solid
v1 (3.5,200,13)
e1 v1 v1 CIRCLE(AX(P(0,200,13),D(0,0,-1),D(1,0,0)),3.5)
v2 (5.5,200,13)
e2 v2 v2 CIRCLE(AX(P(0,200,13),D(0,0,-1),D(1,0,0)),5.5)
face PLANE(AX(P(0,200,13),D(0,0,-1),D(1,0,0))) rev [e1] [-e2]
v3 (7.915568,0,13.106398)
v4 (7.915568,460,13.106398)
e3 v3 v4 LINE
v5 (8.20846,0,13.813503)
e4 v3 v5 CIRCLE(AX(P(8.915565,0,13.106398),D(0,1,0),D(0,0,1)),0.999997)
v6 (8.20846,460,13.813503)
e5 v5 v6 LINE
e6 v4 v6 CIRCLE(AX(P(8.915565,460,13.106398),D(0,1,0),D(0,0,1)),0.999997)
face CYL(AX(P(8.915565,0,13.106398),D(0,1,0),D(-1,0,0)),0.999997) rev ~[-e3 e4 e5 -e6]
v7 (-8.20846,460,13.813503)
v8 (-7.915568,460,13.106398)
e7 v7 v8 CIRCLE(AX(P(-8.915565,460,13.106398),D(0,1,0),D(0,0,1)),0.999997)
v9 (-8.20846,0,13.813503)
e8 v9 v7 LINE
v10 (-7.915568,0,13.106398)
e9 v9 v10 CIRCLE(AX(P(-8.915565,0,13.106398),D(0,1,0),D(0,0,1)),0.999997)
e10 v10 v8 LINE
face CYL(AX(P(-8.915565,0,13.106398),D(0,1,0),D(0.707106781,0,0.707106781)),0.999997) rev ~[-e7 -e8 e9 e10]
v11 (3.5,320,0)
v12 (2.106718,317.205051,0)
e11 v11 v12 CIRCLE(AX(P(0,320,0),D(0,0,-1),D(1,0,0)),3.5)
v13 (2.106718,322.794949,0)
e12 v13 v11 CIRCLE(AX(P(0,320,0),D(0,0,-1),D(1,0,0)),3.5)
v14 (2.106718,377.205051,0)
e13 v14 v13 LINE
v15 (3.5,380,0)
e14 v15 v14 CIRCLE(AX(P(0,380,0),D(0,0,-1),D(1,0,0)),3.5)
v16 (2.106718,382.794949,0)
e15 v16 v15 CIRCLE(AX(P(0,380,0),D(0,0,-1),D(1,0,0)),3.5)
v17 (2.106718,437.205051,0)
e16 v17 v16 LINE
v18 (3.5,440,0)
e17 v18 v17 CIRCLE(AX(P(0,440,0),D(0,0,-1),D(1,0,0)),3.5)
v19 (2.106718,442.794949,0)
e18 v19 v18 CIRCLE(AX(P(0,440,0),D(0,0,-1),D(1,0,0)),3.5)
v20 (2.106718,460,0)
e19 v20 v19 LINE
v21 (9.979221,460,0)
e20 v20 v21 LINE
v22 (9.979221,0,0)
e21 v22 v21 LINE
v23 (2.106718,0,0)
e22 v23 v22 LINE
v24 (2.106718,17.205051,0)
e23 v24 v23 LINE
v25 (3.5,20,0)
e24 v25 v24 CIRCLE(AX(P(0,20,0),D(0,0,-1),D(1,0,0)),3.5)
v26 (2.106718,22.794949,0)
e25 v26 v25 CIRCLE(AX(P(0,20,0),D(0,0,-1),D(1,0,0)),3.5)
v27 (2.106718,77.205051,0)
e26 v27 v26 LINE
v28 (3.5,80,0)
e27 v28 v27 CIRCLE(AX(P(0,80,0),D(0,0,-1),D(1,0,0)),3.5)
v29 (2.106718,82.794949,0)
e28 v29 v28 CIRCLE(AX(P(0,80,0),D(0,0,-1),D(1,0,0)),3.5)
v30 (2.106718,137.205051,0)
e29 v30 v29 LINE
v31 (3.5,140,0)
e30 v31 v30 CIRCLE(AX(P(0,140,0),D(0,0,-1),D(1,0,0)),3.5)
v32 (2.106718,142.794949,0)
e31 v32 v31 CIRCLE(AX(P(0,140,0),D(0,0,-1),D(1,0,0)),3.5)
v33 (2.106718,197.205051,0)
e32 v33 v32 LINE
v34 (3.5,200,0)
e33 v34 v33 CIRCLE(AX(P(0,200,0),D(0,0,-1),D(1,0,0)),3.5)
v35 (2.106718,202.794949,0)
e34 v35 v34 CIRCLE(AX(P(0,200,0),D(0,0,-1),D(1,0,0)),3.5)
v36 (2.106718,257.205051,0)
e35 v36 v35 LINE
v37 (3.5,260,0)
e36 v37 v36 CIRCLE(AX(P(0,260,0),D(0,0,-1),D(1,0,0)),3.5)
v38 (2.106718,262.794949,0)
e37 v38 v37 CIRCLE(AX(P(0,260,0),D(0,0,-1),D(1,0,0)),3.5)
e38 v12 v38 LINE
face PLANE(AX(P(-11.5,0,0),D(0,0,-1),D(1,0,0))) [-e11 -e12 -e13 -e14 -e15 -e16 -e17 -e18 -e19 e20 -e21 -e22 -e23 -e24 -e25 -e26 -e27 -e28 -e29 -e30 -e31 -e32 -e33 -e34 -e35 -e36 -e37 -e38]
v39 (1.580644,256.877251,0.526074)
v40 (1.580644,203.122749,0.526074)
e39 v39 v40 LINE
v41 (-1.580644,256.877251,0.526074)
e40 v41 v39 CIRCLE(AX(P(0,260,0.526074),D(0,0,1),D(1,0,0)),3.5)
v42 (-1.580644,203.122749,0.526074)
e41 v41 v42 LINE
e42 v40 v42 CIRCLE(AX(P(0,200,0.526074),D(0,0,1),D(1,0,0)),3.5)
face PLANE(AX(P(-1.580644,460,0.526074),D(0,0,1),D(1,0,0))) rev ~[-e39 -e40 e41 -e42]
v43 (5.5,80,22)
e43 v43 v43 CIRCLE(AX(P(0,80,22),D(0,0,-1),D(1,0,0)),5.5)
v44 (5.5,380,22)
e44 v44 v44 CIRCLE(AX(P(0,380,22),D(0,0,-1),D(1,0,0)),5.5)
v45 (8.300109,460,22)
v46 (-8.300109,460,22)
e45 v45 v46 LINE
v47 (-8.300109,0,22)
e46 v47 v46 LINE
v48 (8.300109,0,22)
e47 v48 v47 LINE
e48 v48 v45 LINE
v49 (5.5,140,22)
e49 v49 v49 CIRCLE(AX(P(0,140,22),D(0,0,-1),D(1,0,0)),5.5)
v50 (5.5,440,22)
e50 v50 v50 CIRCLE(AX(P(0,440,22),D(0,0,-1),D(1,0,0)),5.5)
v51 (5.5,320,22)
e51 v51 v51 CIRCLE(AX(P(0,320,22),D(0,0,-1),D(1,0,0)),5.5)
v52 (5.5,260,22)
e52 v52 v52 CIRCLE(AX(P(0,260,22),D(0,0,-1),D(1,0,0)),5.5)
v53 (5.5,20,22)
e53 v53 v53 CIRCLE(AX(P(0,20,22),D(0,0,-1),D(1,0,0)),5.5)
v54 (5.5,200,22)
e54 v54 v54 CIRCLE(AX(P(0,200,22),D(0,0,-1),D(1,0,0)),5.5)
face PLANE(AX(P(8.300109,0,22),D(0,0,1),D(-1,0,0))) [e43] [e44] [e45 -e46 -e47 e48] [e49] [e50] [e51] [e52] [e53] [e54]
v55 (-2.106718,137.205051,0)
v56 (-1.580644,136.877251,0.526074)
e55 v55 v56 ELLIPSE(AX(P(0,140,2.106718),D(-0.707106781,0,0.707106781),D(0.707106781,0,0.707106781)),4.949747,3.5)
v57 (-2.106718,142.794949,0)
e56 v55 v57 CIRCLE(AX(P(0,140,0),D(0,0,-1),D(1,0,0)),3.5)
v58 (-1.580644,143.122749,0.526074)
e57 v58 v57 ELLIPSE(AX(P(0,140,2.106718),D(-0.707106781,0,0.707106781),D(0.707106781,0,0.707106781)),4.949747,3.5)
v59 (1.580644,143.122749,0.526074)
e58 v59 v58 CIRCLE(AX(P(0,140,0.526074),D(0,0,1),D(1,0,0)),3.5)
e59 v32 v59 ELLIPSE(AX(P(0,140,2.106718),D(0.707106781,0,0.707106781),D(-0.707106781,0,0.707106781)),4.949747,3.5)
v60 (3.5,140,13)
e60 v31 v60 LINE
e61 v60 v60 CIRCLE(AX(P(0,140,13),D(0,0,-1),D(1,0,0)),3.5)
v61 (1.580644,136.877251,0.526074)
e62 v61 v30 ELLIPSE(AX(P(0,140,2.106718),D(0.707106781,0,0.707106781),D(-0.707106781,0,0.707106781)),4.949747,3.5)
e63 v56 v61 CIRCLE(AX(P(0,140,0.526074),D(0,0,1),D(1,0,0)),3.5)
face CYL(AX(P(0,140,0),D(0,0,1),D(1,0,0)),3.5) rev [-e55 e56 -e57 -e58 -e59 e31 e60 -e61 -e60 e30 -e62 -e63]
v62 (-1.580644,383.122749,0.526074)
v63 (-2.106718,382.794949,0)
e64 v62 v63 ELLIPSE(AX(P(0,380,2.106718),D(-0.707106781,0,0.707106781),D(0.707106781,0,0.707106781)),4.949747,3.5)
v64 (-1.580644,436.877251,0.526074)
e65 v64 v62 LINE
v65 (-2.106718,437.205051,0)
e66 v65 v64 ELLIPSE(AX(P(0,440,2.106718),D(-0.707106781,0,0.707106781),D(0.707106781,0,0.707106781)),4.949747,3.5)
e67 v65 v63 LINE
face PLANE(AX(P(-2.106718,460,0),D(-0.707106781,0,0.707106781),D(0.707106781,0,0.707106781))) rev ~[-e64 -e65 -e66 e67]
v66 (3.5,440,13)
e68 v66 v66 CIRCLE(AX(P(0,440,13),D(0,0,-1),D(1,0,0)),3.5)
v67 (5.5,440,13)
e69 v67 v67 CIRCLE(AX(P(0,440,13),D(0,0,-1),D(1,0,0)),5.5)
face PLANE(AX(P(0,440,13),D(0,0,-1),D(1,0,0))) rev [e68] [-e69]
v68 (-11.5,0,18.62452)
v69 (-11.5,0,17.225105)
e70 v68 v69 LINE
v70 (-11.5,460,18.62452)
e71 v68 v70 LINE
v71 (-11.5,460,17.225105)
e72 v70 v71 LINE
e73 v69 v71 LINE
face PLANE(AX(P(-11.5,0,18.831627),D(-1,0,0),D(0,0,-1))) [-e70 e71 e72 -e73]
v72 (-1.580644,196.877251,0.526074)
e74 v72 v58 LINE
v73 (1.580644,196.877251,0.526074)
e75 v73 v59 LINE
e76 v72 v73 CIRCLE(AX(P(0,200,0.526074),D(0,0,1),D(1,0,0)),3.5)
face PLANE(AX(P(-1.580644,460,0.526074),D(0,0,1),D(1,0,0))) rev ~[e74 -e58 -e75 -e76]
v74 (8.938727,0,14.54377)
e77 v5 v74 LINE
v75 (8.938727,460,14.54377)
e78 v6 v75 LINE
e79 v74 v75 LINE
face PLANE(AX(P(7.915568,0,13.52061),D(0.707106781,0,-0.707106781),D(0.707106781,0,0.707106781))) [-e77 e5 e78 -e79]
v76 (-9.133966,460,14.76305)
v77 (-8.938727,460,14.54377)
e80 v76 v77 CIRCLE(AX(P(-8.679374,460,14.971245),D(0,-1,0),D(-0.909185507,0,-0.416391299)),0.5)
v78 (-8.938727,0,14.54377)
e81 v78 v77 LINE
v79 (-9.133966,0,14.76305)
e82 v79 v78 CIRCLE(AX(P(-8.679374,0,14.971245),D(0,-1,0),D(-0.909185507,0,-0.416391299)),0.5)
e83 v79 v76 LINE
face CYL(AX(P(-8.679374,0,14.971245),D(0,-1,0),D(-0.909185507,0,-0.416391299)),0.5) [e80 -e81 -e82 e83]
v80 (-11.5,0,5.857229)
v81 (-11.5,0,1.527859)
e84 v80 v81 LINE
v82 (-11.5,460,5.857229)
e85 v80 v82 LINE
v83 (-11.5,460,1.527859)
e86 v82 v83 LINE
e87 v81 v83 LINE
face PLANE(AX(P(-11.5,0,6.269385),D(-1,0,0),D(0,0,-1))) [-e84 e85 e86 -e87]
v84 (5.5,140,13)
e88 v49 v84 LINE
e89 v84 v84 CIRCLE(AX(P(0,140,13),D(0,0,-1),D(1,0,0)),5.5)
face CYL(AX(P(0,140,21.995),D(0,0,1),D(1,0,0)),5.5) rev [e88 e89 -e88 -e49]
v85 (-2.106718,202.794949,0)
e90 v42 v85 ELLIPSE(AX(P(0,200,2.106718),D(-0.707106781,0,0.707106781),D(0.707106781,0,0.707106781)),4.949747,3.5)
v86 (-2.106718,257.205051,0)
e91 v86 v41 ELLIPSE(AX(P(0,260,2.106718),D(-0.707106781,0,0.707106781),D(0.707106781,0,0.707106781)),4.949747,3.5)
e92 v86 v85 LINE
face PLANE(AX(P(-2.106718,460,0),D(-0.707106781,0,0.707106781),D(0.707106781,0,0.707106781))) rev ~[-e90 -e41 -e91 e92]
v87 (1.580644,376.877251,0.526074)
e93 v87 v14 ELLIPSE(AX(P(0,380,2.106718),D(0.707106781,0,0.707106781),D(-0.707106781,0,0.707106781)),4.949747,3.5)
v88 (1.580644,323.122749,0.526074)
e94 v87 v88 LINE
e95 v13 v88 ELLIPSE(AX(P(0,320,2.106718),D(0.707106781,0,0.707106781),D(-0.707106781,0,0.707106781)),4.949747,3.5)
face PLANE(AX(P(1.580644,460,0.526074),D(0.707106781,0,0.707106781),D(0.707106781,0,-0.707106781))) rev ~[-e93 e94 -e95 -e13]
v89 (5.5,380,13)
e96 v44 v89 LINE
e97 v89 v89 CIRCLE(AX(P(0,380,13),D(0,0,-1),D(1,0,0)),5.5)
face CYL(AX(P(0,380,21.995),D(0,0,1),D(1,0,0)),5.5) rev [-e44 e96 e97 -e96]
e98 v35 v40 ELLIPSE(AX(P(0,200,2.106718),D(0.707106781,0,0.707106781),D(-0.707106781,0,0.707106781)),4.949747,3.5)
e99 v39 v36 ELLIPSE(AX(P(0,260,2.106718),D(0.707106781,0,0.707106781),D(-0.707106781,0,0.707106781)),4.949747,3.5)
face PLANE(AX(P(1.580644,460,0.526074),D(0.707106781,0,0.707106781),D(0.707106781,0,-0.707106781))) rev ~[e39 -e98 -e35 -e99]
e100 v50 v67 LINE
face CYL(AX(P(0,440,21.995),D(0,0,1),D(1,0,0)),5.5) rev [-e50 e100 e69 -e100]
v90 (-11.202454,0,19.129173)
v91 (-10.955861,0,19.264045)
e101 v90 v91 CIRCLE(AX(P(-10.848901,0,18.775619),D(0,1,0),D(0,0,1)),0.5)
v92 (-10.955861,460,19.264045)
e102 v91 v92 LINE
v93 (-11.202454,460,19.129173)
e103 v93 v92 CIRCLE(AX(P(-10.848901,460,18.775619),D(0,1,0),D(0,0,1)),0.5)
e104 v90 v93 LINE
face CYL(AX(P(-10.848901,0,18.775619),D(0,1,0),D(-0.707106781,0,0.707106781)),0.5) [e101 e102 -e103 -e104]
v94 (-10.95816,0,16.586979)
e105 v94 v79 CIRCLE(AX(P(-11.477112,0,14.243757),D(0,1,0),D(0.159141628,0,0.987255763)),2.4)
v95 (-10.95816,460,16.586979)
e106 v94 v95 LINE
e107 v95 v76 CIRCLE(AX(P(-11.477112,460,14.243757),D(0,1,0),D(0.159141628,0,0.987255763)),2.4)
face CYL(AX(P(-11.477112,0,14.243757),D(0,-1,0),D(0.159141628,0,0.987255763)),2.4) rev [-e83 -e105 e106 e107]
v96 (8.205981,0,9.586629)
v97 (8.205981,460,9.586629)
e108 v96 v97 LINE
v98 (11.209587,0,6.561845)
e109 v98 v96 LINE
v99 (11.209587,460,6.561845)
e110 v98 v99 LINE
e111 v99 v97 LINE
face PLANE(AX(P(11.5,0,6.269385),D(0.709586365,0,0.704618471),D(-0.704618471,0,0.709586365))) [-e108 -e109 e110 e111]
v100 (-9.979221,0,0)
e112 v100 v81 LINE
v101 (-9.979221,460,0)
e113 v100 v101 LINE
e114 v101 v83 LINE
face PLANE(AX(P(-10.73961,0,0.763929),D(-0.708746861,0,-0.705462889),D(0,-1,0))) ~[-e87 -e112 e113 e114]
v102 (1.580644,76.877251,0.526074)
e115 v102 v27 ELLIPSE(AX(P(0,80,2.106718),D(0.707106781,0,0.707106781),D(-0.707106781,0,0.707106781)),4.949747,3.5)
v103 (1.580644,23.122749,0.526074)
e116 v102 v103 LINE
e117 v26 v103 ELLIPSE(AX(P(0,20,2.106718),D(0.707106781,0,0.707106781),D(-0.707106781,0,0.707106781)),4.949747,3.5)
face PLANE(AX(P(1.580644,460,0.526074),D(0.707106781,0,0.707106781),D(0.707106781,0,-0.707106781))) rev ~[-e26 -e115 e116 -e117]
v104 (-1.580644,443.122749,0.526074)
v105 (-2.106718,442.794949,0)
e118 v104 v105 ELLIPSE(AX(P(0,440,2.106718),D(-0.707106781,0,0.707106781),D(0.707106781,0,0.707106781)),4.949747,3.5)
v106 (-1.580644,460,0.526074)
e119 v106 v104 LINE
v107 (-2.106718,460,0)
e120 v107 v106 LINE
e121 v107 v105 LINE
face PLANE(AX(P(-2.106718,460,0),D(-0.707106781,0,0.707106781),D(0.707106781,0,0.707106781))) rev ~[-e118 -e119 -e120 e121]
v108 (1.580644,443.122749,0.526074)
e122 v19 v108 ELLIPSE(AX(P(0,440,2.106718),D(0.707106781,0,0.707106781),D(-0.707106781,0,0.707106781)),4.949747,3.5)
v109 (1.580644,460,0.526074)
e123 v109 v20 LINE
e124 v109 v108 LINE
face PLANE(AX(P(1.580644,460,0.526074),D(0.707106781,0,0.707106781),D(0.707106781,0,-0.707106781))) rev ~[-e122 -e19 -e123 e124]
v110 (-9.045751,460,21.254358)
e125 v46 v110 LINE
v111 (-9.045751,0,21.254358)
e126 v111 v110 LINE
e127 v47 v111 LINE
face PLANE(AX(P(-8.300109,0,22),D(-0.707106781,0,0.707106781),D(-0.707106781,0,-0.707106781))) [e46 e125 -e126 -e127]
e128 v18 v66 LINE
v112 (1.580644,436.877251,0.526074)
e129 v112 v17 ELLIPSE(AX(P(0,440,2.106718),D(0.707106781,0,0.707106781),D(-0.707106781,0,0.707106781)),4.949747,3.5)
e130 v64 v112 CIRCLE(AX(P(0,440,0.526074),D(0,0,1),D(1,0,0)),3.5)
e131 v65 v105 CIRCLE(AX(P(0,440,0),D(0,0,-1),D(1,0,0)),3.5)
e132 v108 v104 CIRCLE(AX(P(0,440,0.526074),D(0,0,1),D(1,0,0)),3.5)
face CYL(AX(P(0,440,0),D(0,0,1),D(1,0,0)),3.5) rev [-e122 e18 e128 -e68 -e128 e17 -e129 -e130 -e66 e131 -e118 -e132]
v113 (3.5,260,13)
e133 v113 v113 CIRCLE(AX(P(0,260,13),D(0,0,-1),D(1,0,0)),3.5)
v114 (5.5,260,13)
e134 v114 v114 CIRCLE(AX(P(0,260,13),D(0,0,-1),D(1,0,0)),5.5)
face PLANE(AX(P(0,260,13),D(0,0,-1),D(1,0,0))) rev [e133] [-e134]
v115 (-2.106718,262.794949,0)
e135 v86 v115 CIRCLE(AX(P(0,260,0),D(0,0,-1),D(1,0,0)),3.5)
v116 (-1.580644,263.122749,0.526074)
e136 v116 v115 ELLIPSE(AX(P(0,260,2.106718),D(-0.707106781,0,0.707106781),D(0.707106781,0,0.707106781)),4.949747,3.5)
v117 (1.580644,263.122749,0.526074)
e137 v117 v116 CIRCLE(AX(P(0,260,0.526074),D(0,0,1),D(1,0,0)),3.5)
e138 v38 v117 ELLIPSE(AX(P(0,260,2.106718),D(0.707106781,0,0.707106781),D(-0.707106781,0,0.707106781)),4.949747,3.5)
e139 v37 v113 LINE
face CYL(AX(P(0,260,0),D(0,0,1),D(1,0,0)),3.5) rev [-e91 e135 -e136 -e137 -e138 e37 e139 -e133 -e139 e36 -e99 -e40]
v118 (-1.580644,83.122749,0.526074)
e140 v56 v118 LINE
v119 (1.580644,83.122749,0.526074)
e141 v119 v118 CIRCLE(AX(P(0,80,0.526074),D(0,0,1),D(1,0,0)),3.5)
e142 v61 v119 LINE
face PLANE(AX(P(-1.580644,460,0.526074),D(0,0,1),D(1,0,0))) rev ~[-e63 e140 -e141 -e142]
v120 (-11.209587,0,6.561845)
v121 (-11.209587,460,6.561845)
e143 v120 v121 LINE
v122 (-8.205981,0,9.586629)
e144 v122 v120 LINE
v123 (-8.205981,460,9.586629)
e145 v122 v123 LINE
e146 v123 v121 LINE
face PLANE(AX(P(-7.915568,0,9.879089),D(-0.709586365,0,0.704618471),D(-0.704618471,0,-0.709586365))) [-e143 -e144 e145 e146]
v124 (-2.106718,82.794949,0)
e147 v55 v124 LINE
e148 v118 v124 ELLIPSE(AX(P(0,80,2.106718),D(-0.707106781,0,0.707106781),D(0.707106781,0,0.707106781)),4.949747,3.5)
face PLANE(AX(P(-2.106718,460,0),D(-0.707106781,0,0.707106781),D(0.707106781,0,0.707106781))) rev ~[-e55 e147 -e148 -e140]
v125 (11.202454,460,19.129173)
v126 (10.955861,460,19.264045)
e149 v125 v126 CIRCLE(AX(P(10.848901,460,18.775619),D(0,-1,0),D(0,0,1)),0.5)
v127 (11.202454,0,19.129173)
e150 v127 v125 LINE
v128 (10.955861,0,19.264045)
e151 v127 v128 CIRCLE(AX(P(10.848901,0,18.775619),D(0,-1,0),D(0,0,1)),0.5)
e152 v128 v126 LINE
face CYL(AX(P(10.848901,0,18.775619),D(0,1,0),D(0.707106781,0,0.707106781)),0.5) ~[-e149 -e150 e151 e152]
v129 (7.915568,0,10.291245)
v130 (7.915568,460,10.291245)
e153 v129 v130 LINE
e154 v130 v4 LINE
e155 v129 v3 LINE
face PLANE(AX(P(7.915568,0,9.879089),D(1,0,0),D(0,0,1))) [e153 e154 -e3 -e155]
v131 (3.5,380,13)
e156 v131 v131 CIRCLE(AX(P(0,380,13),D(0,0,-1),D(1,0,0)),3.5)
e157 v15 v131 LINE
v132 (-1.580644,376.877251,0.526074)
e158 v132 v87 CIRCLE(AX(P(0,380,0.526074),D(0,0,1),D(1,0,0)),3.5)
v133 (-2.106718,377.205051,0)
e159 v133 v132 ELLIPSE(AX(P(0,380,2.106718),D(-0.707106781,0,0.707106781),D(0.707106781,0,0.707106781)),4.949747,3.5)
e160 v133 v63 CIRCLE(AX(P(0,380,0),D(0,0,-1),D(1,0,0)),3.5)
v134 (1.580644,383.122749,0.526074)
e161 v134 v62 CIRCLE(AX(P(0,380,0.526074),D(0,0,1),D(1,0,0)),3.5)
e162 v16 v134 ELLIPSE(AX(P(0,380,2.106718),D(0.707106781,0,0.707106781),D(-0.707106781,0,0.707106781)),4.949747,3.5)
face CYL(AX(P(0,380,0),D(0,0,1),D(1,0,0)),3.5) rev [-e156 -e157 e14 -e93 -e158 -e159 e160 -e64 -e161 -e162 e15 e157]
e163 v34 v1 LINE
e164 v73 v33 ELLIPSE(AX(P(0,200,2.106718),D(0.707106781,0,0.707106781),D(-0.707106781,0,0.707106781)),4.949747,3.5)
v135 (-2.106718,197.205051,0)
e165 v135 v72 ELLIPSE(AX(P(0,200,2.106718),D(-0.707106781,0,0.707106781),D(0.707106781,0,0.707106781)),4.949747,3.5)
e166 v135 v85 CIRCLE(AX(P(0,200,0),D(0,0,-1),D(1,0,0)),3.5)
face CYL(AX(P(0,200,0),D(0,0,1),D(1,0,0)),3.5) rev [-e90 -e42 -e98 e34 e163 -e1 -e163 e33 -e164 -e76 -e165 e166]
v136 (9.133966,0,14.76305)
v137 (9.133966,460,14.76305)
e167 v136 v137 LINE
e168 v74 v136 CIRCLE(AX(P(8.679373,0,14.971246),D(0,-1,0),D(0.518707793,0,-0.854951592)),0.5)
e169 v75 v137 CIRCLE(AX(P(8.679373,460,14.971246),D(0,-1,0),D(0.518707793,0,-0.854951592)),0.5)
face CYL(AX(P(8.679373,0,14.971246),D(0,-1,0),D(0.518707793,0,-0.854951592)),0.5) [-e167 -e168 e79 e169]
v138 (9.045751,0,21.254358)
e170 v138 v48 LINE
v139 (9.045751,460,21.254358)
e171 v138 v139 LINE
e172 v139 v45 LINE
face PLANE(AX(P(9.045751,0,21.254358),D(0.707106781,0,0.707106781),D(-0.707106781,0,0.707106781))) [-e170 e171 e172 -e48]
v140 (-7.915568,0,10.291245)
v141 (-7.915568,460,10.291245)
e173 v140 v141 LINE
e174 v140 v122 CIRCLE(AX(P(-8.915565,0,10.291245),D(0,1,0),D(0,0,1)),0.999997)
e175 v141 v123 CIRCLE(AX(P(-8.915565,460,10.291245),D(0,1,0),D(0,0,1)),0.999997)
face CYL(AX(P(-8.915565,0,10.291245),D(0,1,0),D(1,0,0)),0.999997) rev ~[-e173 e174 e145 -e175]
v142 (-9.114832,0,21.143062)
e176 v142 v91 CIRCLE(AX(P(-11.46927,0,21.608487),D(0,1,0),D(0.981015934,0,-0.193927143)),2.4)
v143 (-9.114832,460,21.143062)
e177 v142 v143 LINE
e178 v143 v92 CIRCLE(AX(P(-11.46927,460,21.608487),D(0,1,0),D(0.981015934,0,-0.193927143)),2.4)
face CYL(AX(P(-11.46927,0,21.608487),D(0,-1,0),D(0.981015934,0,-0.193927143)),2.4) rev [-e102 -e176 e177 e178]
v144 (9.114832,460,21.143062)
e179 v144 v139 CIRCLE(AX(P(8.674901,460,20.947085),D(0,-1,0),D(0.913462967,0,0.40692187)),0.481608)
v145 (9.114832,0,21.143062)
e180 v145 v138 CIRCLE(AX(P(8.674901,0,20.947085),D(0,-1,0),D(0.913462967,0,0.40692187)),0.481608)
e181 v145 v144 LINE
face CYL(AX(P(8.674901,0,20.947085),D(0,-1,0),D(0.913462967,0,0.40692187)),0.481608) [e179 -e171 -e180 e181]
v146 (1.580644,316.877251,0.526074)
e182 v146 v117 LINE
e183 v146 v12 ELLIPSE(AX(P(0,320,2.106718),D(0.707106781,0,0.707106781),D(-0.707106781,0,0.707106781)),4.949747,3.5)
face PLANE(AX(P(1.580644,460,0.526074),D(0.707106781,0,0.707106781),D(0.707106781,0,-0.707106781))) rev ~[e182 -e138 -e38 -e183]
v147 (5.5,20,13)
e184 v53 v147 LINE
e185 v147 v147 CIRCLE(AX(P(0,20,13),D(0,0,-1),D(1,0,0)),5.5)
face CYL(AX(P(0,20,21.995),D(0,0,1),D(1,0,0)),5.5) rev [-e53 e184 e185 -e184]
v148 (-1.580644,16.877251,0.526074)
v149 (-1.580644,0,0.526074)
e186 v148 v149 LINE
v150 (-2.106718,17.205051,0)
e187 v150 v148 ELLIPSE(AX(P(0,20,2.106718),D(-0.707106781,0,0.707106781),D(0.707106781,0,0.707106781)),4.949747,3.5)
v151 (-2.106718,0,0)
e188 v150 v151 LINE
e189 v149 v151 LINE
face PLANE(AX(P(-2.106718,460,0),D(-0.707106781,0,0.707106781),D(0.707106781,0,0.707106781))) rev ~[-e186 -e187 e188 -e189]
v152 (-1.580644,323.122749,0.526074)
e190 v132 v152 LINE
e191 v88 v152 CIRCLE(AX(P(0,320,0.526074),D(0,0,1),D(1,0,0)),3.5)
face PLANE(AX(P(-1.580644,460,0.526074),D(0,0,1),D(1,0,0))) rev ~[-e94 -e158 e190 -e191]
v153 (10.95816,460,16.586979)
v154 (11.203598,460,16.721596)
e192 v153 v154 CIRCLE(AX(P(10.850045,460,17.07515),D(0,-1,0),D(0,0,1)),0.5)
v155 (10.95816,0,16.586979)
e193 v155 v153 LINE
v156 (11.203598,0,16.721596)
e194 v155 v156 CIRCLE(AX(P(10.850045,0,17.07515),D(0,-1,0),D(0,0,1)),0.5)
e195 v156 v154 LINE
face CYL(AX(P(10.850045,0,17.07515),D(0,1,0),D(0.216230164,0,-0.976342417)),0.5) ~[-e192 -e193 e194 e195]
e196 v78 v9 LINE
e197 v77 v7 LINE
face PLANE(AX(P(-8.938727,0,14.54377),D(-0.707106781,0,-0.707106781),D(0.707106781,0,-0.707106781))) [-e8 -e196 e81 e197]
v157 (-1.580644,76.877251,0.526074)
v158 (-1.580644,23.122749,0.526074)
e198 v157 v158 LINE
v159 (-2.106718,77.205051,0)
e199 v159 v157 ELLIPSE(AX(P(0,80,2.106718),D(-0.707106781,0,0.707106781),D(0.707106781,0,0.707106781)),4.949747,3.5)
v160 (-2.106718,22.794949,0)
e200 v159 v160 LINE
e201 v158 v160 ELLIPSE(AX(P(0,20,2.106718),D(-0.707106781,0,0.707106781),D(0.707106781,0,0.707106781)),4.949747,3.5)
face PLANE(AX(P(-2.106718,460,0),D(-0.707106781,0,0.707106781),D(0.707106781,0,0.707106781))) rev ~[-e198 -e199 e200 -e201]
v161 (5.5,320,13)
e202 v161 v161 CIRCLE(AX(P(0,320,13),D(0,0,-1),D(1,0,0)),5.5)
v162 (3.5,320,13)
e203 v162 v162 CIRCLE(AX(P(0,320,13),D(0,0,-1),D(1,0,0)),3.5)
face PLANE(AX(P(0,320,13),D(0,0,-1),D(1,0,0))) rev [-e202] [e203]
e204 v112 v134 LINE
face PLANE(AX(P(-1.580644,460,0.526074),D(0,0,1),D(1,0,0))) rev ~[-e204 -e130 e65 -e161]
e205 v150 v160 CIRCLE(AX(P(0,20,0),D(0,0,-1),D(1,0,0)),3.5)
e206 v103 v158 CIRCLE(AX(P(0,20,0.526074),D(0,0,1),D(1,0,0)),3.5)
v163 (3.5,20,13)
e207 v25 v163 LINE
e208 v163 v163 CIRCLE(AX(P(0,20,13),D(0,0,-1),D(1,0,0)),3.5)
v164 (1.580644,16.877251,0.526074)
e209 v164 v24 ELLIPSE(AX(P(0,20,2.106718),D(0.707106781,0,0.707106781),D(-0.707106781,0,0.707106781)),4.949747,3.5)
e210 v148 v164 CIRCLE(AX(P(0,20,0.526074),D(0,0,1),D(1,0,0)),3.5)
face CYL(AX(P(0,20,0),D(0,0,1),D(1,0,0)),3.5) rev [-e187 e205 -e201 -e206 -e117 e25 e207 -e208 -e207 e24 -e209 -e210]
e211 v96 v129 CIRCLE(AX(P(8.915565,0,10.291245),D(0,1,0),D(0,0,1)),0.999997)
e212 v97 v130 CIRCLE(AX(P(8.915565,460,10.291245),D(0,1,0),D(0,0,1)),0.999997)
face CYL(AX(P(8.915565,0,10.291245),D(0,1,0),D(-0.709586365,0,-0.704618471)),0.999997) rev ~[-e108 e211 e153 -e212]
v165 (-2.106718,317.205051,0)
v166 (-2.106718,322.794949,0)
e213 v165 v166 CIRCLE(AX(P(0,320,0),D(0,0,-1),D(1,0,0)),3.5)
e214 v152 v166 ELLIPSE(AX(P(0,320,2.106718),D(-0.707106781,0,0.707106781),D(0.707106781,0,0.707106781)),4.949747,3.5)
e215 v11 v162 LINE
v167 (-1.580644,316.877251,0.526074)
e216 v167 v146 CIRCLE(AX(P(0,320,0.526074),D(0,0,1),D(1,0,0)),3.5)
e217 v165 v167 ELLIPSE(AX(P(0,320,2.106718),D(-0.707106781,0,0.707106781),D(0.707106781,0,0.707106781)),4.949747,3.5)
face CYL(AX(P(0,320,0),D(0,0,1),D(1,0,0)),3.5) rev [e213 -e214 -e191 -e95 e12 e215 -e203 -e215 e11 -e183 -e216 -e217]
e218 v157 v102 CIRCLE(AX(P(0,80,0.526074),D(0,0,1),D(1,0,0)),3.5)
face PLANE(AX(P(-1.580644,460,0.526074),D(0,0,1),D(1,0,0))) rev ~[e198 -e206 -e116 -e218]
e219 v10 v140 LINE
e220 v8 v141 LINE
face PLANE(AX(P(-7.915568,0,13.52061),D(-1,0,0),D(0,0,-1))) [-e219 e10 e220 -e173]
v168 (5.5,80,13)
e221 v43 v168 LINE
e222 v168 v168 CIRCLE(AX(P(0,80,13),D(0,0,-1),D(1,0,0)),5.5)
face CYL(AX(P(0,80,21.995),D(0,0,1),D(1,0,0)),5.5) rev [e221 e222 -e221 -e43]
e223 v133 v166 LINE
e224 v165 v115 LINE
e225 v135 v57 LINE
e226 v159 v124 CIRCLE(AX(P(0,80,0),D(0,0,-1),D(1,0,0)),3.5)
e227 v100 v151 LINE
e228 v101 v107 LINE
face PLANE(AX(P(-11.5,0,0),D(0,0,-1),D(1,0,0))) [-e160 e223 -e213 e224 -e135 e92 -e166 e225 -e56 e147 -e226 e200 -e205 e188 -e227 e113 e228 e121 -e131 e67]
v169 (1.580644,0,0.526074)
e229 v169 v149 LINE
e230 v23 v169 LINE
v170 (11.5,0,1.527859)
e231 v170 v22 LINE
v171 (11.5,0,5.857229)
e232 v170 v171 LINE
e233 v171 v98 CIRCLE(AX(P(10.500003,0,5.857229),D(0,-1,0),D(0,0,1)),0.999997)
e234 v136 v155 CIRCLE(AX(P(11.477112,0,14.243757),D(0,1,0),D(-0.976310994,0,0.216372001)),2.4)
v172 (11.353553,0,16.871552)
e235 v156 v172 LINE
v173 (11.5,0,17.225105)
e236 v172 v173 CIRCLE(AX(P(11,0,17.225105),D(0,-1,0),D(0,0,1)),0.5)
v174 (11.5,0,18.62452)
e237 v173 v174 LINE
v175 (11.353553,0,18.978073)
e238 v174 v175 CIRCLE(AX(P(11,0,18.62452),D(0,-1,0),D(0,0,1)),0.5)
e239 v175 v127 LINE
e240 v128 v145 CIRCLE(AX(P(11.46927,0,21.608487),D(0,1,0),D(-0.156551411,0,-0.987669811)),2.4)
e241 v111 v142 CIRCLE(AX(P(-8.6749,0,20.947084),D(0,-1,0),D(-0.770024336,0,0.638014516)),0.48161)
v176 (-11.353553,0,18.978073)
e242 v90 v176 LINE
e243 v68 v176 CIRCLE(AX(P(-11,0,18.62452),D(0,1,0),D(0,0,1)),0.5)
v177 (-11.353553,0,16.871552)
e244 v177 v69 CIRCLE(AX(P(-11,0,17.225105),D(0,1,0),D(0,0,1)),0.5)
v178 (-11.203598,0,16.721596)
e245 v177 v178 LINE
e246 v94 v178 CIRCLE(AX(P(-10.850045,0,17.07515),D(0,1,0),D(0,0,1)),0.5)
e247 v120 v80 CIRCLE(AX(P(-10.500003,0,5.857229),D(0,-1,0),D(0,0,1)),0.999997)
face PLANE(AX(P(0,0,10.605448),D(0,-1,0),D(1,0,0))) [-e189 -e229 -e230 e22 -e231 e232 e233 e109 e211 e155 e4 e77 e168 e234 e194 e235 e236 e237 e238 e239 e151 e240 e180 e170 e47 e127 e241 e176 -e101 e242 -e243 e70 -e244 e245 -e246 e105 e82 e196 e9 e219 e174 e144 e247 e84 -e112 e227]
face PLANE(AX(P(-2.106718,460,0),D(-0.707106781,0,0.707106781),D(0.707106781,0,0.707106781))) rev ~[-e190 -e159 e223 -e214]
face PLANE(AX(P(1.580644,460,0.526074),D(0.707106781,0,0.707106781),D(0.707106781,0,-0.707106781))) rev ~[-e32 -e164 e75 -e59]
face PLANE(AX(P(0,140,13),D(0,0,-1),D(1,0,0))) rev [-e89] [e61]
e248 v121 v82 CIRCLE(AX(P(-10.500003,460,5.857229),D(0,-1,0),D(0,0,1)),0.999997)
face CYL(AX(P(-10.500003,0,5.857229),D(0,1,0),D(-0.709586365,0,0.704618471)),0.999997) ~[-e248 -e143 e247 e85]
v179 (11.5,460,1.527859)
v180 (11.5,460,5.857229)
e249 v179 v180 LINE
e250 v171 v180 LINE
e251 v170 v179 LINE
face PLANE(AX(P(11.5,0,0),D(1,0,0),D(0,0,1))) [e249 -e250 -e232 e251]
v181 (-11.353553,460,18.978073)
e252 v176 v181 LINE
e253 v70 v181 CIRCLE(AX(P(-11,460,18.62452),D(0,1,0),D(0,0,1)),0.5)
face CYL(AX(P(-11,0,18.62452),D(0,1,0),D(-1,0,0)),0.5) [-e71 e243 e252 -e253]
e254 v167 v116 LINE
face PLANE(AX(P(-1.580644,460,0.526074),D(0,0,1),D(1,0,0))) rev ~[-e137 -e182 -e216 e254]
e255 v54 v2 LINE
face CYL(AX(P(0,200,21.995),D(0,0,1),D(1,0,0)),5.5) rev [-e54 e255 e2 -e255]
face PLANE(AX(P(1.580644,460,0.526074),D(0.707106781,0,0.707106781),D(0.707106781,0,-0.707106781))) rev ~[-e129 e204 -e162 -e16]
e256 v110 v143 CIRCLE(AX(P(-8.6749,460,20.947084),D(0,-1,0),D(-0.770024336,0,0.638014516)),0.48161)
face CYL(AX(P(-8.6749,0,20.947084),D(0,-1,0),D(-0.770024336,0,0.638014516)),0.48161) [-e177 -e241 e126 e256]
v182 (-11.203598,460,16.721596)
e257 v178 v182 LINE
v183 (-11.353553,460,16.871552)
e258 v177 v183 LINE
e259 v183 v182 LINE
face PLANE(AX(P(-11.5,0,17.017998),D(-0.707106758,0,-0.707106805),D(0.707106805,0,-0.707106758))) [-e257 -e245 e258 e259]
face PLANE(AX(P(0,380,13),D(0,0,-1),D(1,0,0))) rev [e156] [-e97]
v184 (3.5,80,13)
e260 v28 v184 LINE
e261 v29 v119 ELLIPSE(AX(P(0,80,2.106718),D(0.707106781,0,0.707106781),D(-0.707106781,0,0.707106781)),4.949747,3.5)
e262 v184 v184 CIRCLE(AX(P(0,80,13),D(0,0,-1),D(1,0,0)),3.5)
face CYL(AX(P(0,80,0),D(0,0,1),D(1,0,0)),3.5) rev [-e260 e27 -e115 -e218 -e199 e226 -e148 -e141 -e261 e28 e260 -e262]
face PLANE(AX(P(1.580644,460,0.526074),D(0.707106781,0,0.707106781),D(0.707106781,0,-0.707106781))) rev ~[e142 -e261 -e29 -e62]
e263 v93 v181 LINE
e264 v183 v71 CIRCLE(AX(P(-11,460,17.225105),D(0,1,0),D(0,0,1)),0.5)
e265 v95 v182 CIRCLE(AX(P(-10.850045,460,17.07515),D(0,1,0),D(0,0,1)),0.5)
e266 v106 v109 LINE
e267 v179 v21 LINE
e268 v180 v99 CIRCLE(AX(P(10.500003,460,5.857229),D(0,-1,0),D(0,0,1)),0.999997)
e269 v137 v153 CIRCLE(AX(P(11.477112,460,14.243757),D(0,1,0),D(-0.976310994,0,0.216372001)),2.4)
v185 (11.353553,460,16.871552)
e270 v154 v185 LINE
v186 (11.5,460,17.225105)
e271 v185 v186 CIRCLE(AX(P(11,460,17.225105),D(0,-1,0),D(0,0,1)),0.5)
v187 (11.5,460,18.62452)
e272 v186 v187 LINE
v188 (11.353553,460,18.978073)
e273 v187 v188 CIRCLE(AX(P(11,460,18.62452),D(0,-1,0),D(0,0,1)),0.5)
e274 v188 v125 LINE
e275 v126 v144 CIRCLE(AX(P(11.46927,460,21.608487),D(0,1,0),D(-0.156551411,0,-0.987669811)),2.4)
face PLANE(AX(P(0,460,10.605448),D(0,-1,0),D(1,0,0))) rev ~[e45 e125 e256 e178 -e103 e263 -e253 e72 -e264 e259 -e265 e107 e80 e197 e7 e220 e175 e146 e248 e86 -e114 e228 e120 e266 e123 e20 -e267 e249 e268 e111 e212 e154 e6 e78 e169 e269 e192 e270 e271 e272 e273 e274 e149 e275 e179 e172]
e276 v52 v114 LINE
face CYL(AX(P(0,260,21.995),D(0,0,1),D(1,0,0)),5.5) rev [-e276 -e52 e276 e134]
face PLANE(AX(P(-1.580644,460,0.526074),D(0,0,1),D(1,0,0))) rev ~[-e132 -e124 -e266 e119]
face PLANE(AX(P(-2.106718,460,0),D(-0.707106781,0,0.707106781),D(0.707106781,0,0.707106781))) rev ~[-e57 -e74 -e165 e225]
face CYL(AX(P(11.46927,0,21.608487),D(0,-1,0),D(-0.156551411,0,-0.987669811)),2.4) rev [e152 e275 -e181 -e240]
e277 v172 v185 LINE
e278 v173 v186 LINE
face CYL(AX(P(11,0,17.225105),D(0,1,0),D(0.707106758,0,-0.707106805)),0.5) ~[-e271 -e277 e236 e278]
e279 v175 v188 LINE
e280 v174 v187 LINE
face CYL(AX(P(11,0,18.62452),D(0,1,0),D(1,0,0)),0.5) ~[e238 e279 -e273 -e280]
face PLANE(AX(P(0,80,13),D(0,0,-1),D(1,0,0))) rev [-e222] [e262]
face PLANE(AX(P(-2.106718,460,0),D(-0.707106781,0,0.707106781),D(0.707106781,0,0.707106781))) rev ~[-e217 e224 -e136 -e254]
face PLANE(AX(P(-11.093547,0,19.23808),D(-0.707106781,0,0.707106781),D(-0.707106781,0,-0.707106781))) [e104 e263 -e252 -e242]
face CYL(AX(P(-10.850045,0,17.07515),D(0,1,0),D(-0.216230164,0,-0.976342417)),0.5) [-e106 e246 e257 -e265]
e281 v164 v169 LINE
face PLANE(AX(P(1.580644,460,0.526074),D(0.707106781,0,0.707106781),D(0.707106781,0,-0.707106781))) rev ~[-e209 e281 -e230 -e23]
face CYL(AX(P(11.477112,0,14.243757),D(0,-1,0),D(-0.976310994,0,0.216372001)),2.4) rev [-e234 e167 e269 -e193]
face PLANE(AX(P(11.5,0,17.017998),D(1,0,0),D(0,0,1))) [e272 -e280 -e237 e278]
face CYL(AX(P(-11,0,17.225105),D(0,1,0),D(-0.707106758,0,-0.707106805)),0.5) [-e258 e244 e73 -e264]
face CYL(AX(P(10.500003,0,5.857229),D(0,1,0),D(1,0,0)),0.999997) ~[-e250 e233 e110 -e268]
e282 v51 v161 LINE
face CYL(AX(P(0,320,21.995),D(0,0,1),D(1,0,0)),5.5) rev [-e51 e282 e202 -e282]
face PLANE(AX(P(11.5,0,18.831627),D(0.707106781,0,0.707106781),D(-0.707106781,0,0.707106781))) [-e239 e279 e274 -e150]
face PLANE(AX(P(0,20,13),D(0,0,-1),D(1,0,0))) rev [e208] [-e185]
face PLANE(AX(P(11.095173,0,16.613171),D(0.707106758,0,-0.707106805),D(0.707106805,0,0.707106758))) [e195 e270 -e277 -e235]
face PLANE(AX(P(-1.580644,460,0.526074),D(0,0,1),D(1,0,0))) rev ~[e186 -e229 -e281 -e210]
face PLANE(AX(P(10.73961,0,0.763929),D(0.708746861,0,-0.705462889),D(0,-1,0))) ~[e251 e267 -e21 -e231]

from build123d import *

# Parameters (mm, degrees)
DODANIE_WYCI_GNI_CIE1_DEPTH = 460
WYTNIJ_WYCI_GNI_CIE1_DEPTH  = 461
SZKIC7_W                    = 5.5
SZKIC7_H                    = 0.01000001
SZKIC8_W                    = 5.5
SZKIC8_H                    = 0.01000001
SZKIC9_W                    = 5.5
SZKIC9_H                    = 0.01000001
SZKIC10_W                   = 5.5
SZKIC10_H                   = 0.01000001
SZKIC11_W                   = 5.5
SZKIC11_H                   = 0.01000001
SZKIC12_W                   = 5.5
SZKIC12_H                   = 0.01000001
SZKIC13_W                   = 5.5
SZKIC13_H                   = 0.01000001
SZKIC14_W                   = 5.5
SZKIC14_H                   = 0.01000001
SFAZOWANIE2_SIZE            = 1.52785882
SFAZOWANIE2_SIZE2           = 1.5207795
SFAZOWANIE4_SIZE            = 1.5207795
SFAZOWANIE4_SIZE2           = 1.52785882
ZAOKR_GLENIE1_R             = 0.499999854
ZAOKR_GLENIE2_R             = 0.999996936


with BuildPart() as part:
    # Szkic1 → Dodanie-wyciągnięcie1 (new body)
    with BuildSketch(Plane.XZ):
        with BuildLine():
            Line((-11.5, 6.269384953), (-11.5, 0))
            Line((-11.5, 0), (11.5, 0))
            Line((11.5, 0), (11.5, 6.269384953))
            Line((11.5, 6.269384953), (7.91556798, 9.879088917))
            Line((7.91556798, 9.879088917), (7.91556798, 13.52061035))
            Line((7.91556798, 13.52061035), (8.93872733, 14.5437697))
            ThreePointArc((8.93872733, 14.5437697), (9.052804678, 14.638756238), (9.13396618, 14.76304982))
            ThreePointArc((9.13396618, 14.76304982), (9.83021824, 15.989534483), (11.095172541, 16.613170738))
            Line((11.095172541, 16.613170738), (11.5, 17.01799817))
            Line((11.5, 17.01799817), (11.5, 18.83162682))
            Line((11.5, 18.83162682), (11.093547074, 19.238079746))
            ThreePointArc((11.093547074, 19.238079746), (9.804732951, 19.879523761), (9.11483221, 21.14306214))
            ThreePointArc((9.11483221, 21.14306214), (9.084093131, 21.201069918), (9.04575086, 21.25435841))
            Line((9.04575086, 21.25435841), (8.30010926, 22.00000001))
            Line((8.30010926, 22.00000001), (-8.30010926, 22.00000001))
            Line((-8.30010926, 22.00000001), (-9.04575086, 21.25435841))
            ThreePointArc((-9.04575086, 21.25435841), (-9.08409312, 21.20106991), (-9.11483221, 21.14306214))
            ThreePointArc((-9.11483221, 21.14306214), (-9.804732946, 19.879523757), (-11.093547072, 19.238079748))
            Line((-11.093547072, 19.238079748), (-11.5, 18.83162682))
            Line((-11.5, 18.83162682), (-11.5, 17.01799817))
            Line((-11.5, 17.01799817), (-11.095172541, 16.613170738))
            ThreePointArc((-11.095172541, 16.613170738), (-9.83021824, 15.989534483), (-9.13396618, 14.76304982))
            ThreePointArc((-9.13396618, 14.76304982), (-9.052804683, 14.638756234), (-8.93872733, 14.5437697))
            Line((-8.93872733, 14.5437697), (-7.91556798, 13.52061035))
            Line((-7.91556798, 13.52061035), (-7.91556798, 9.879088917))
            Line((-7.91556798, 9.879088917), (-11.5, 6.269384953))
        make_face()
    extrude(amount=-DODANIE_WYCI_GNI_CIE1_DEPTH)

    # Szkic2 → Wytnij-wyciągnięcie1 (cut, through all)
    with BuildSketch(Plane(origin=(0, 460, 0), x_dir=(-1, 0, 0), z_dir=(0, 1, 0))):
        Polygon((-2.10671821, 0), (2.10671821, 0), (1.58064429, 0.52607392), (-1.58064429, 0.52607392), align=None)
    extrude(amount=-WYTNIJ_WYCI_GNI_CIE1_DEPTH, mode=Mode.SUBTRACT)

    # Szkic7 → Wycięcie-obrót1 (revolve, cut)
    with BuildSketch(Plane.XZ.offset(-20)):
        with Locations((2.75, 21.995000005)):
            Rectangle(SZKIC7_W, SZKIC7_H)
    revolve(axis=Axis((0, 20, 22.00000001), (0, 0, -1)), mode=Mode.SUBTRACT)

    # Szkic8 → Wycięcie-obrót2 (revolve, cut)
    with BuildSketch(Plane.XZ.offset(-80)):
        with Locations((2.75, 21.995000005)):
            Rectangle(SZKIC8_W, SZKIC8_H)
    revolve(axis=Axis((0, 80, 22.00000001), (0, 0, -1)), mode=Mode.SUBTRACT)

    # Szkic9 → Wycięcie-obrót3 (revolve, cut)
    with BuildSketch(Plane.XZ.offset(-140)):
        with Locations((2.75, 21.995000005)):
            Rectangle(SZKIC9_W, SZKIC9_H)
    revolve(axis=Axis((0, 140, 22.00000001), (0, 0, -1)), mode=Mode.SUBTRACT)

    # Szkic10 → Wycięcie-obrót4 (revolve, cut)
    with BuildSketch(Plane.XZ.offset(-200)):
        with Locations((2.75, 21.995000005)):
            Rectangle(SZKIC10_W, SZKIC10_H)
    revolve(axis=Axis((0, 200, 22.00000001), (0, 0, -1)), mode=Mode.SUBTRACT)

    # Szkic11 → Wycięcie-obrót5 (revolve, cut)
    with BuildSketch(Plane.XZ.offset(-260)):
        with Locations((2.75, 21.995000005)):
            Rectangle(SZKIC11_W, SZKIC11_H)
    revolve(axis=Axis((0, 260, 22.00000001), (0, 0, -1)), mode=Mode.SUBTRACT)

    # Szkic12 → Wycięcie-obrót6 (revolve, cut)
    with BuildSketch(Plane.XZ.offset(-320)):
        with Locations((2.75, 21.995000005)):
            Rectangle(SZKIC12_W, SZKIC12_H)
    revolve(axis=Axis((0, 320, 22.00000001), (0, 0, -1)), mode=Mode.SUBTRACT)

    # Szkic13 → Wycięcie-obrót7 (revolve, cut)
    with BuildSketch(Plane.XZ.offset(-380)):
        with Locations((2.75, 21.995000005)):
            Rectangle(SZKIC13_W, SZKIC13_H)
    revolve(axis=Axis((0, 380, 22.00000001), (0, 0, -1)), mode=Mode.SUBTRACT)

    # Szkic14 → Wycięcie-obrót8 (revolve, cut)
    with BuildSketch(Plane.XZ.offset(-440)):
        with Locations((2.75, 21.995000005)):
            Rectangle(SZKIC14_W, SZKIC14_H)
    revolve(axis=Axis((0, 440, 22.00000001), (0, 0, -1)), mode=Mode.SUBTRACT)

    # Szkic24 → Wycięcie-obrót18 (revolve, cut)
    with BuildSketch(Plane.XZ.offset(-20)):
        Polygon((5.5, 22), (0, 22), (0, 0), (3.5, 0), (3.5, 13), (5.5, 13), align=None)
    revolve(axis=Axis((0, 20, 22), (0, 0, -1)), mode=Mode.SUBTRACT)

    # Szkic25 → Wycięcie-obrót19 (revolve, cut)
    with BuildSketch(Plane.XZ.offset(-80)):
        Polygon((5.5, 22), (0, 22), (0, 0), (3.5, 0), (3.5, 13), (5.5, 13), align=None)
    revolve(axis=Axis((0, 80, 22), (0, 0, -1)), mode=Mode.SUBTRACT)

    # Szkic26 → Wycięcie-obrót20 (revolve, cut)
    with BuildSketch(Plane.XZ.offset(-140)):
        Polygon((5.5, 22), (0, 22), (0, 0), (3.5, 0), (3.5, 13), (5.5, 13), align=None)
    revolve(axis=Axis((0, 140, 22), (0, 0, -1)), mode=Mode.SUBTRACT)

    # Szkic27 → Wycięcie-obrót21 (revolve, cut)
    with BuildSketch(Plane.XZ.offset(-200)):
        Polygon((5.5, 22), (0, 22), (0, 0), (3.5, 0), (3.5, 13), (5.5, 13), align=None)
    revolve(axis=Axis((0, 200, 22), (0, 0, -1)), mode=Mode.SUBTRACT)

    # Szkic28 → Wycięcie-obrót22 (revolve, cut)
    with BuildSketch(Plane.XZ.offset(-260)):
        Polygon((5.5, 22), (0, 22), (0, 0), (3.5, 0), (3.5, 13), (5.5, 13), align=None)
    revolve(axis=Axis((0, 260, 22), (0, 0, -1)), mode=Mode.SUBTRACT)

    # Szkic29 → Wycięcie-obrót23 (revolve, cut)
    with BuildSketch(Plane.XZ.offset(-320)):
        Polygon((5.5, 22), (0, 22), (0, 0), (3.5, 0), (3.5, 13), (5.5, 13), align=None)
    revolve(axis=Axis((0, 320, 22), (0, 0, -1)), mode=Mode.SUBTRACT)

    # Szkic30 → Wycięcie-obrót24 (revolve, cut)
    with BuildSketch(Plane.XZ.offset(-380)):
        Polygon((5.5, 22), (0, 22), (0, 0), (3.5, 0), (3.5, 13), (5.5, 13), align=None)
    revolve(axis=Axis((0, 380, 22), (0, 0, -1)), mode=Mode.SUBTRACT)

    # Szkic31 → Wycięcie-obrót25 (revolve, cut)
    with BuildSketch(Plane.XZ.offset(-440)):
        Polygon((5.5, 22), (0, 22), (0, 0), (3.5, 0), (3.5, 13), (5.5, 13), align=None)
    revolve(axis=Axis((0, 440, 22), (0, 0, -1)), mode=Mode.SUBTRACT)

    # Sfazowanie2
    sfazowanie2_edges = [part.edges().sort_by_distance(p)[0] for p in [
        (11.5, 230, 0),
    ]]
    sfazowanie2_side = [part.faces().sort_by_distance(p)[0] for p in [
        (11.5, 230, 3.134692476),
    ]]
    chamfer(sfazowanie2_edges, length=SFAZOWANIE2_SIZE, length2=SFAZOWANIE2_SIZE2, reference=sfazowanie2_side[0])

    # Sfazowanie4
    sfazowanie4_edges = [part.edges().sort_by_distance(p)[0] for p in [
        (-11.5, 230, 0),
    ]]
    sfazowanie4_side = [part.faces().sort_by_distance(p)[0] for p in [
        (-6.845378829, 230, 0),
    ]]
    chamfer(sfazowanie4_edges, length=SFAZOWANIE4_SIZE, length2=SFAZOWANIE4_SIZE2, reference=sfazowanie4_side[0])

    # Zaokrąglenie1
    zaokr_glenie1_edges = [part.edges().sort_by_distance(p)[0] for p in [
        (-11.095172541, 230, 16.613170738),
        (-11.5, 230, 17.01799817),
        (-11.5, 230, 18.83162682),
        (-11.093547072, 230, 19.238079748),
        (11.093547074, 230, 19.238079746),
        (11.5, 230, 18.83162682),
        (11.5, 230, 17.01799817),
        (11.095172541, 230, 16.613170738),
    ]]
    fillet(zaokr_glenie1_edges, radius=ZAOKR_GLENIE1_R)

    # Zaokrąglenie2
    zaokr_glenie2_edges = [part.edges().sort_by_distance(p)[0] for p in [
        (-7.91556798, 230, 9.879088917),
        (-7.91556798, 230, 13.52061035),
        (7.91556798, 230, 13.52061035),
        (7.91556798, 230, 9.879088917),
        (11.5, 230, 6.269384953),
        (-11.5, 230, 6.269384953),
    ]]
    fillet(zaokr_glenie2_edges, radius=ZAOKR_GLENIE2_R)


solid = part.part
